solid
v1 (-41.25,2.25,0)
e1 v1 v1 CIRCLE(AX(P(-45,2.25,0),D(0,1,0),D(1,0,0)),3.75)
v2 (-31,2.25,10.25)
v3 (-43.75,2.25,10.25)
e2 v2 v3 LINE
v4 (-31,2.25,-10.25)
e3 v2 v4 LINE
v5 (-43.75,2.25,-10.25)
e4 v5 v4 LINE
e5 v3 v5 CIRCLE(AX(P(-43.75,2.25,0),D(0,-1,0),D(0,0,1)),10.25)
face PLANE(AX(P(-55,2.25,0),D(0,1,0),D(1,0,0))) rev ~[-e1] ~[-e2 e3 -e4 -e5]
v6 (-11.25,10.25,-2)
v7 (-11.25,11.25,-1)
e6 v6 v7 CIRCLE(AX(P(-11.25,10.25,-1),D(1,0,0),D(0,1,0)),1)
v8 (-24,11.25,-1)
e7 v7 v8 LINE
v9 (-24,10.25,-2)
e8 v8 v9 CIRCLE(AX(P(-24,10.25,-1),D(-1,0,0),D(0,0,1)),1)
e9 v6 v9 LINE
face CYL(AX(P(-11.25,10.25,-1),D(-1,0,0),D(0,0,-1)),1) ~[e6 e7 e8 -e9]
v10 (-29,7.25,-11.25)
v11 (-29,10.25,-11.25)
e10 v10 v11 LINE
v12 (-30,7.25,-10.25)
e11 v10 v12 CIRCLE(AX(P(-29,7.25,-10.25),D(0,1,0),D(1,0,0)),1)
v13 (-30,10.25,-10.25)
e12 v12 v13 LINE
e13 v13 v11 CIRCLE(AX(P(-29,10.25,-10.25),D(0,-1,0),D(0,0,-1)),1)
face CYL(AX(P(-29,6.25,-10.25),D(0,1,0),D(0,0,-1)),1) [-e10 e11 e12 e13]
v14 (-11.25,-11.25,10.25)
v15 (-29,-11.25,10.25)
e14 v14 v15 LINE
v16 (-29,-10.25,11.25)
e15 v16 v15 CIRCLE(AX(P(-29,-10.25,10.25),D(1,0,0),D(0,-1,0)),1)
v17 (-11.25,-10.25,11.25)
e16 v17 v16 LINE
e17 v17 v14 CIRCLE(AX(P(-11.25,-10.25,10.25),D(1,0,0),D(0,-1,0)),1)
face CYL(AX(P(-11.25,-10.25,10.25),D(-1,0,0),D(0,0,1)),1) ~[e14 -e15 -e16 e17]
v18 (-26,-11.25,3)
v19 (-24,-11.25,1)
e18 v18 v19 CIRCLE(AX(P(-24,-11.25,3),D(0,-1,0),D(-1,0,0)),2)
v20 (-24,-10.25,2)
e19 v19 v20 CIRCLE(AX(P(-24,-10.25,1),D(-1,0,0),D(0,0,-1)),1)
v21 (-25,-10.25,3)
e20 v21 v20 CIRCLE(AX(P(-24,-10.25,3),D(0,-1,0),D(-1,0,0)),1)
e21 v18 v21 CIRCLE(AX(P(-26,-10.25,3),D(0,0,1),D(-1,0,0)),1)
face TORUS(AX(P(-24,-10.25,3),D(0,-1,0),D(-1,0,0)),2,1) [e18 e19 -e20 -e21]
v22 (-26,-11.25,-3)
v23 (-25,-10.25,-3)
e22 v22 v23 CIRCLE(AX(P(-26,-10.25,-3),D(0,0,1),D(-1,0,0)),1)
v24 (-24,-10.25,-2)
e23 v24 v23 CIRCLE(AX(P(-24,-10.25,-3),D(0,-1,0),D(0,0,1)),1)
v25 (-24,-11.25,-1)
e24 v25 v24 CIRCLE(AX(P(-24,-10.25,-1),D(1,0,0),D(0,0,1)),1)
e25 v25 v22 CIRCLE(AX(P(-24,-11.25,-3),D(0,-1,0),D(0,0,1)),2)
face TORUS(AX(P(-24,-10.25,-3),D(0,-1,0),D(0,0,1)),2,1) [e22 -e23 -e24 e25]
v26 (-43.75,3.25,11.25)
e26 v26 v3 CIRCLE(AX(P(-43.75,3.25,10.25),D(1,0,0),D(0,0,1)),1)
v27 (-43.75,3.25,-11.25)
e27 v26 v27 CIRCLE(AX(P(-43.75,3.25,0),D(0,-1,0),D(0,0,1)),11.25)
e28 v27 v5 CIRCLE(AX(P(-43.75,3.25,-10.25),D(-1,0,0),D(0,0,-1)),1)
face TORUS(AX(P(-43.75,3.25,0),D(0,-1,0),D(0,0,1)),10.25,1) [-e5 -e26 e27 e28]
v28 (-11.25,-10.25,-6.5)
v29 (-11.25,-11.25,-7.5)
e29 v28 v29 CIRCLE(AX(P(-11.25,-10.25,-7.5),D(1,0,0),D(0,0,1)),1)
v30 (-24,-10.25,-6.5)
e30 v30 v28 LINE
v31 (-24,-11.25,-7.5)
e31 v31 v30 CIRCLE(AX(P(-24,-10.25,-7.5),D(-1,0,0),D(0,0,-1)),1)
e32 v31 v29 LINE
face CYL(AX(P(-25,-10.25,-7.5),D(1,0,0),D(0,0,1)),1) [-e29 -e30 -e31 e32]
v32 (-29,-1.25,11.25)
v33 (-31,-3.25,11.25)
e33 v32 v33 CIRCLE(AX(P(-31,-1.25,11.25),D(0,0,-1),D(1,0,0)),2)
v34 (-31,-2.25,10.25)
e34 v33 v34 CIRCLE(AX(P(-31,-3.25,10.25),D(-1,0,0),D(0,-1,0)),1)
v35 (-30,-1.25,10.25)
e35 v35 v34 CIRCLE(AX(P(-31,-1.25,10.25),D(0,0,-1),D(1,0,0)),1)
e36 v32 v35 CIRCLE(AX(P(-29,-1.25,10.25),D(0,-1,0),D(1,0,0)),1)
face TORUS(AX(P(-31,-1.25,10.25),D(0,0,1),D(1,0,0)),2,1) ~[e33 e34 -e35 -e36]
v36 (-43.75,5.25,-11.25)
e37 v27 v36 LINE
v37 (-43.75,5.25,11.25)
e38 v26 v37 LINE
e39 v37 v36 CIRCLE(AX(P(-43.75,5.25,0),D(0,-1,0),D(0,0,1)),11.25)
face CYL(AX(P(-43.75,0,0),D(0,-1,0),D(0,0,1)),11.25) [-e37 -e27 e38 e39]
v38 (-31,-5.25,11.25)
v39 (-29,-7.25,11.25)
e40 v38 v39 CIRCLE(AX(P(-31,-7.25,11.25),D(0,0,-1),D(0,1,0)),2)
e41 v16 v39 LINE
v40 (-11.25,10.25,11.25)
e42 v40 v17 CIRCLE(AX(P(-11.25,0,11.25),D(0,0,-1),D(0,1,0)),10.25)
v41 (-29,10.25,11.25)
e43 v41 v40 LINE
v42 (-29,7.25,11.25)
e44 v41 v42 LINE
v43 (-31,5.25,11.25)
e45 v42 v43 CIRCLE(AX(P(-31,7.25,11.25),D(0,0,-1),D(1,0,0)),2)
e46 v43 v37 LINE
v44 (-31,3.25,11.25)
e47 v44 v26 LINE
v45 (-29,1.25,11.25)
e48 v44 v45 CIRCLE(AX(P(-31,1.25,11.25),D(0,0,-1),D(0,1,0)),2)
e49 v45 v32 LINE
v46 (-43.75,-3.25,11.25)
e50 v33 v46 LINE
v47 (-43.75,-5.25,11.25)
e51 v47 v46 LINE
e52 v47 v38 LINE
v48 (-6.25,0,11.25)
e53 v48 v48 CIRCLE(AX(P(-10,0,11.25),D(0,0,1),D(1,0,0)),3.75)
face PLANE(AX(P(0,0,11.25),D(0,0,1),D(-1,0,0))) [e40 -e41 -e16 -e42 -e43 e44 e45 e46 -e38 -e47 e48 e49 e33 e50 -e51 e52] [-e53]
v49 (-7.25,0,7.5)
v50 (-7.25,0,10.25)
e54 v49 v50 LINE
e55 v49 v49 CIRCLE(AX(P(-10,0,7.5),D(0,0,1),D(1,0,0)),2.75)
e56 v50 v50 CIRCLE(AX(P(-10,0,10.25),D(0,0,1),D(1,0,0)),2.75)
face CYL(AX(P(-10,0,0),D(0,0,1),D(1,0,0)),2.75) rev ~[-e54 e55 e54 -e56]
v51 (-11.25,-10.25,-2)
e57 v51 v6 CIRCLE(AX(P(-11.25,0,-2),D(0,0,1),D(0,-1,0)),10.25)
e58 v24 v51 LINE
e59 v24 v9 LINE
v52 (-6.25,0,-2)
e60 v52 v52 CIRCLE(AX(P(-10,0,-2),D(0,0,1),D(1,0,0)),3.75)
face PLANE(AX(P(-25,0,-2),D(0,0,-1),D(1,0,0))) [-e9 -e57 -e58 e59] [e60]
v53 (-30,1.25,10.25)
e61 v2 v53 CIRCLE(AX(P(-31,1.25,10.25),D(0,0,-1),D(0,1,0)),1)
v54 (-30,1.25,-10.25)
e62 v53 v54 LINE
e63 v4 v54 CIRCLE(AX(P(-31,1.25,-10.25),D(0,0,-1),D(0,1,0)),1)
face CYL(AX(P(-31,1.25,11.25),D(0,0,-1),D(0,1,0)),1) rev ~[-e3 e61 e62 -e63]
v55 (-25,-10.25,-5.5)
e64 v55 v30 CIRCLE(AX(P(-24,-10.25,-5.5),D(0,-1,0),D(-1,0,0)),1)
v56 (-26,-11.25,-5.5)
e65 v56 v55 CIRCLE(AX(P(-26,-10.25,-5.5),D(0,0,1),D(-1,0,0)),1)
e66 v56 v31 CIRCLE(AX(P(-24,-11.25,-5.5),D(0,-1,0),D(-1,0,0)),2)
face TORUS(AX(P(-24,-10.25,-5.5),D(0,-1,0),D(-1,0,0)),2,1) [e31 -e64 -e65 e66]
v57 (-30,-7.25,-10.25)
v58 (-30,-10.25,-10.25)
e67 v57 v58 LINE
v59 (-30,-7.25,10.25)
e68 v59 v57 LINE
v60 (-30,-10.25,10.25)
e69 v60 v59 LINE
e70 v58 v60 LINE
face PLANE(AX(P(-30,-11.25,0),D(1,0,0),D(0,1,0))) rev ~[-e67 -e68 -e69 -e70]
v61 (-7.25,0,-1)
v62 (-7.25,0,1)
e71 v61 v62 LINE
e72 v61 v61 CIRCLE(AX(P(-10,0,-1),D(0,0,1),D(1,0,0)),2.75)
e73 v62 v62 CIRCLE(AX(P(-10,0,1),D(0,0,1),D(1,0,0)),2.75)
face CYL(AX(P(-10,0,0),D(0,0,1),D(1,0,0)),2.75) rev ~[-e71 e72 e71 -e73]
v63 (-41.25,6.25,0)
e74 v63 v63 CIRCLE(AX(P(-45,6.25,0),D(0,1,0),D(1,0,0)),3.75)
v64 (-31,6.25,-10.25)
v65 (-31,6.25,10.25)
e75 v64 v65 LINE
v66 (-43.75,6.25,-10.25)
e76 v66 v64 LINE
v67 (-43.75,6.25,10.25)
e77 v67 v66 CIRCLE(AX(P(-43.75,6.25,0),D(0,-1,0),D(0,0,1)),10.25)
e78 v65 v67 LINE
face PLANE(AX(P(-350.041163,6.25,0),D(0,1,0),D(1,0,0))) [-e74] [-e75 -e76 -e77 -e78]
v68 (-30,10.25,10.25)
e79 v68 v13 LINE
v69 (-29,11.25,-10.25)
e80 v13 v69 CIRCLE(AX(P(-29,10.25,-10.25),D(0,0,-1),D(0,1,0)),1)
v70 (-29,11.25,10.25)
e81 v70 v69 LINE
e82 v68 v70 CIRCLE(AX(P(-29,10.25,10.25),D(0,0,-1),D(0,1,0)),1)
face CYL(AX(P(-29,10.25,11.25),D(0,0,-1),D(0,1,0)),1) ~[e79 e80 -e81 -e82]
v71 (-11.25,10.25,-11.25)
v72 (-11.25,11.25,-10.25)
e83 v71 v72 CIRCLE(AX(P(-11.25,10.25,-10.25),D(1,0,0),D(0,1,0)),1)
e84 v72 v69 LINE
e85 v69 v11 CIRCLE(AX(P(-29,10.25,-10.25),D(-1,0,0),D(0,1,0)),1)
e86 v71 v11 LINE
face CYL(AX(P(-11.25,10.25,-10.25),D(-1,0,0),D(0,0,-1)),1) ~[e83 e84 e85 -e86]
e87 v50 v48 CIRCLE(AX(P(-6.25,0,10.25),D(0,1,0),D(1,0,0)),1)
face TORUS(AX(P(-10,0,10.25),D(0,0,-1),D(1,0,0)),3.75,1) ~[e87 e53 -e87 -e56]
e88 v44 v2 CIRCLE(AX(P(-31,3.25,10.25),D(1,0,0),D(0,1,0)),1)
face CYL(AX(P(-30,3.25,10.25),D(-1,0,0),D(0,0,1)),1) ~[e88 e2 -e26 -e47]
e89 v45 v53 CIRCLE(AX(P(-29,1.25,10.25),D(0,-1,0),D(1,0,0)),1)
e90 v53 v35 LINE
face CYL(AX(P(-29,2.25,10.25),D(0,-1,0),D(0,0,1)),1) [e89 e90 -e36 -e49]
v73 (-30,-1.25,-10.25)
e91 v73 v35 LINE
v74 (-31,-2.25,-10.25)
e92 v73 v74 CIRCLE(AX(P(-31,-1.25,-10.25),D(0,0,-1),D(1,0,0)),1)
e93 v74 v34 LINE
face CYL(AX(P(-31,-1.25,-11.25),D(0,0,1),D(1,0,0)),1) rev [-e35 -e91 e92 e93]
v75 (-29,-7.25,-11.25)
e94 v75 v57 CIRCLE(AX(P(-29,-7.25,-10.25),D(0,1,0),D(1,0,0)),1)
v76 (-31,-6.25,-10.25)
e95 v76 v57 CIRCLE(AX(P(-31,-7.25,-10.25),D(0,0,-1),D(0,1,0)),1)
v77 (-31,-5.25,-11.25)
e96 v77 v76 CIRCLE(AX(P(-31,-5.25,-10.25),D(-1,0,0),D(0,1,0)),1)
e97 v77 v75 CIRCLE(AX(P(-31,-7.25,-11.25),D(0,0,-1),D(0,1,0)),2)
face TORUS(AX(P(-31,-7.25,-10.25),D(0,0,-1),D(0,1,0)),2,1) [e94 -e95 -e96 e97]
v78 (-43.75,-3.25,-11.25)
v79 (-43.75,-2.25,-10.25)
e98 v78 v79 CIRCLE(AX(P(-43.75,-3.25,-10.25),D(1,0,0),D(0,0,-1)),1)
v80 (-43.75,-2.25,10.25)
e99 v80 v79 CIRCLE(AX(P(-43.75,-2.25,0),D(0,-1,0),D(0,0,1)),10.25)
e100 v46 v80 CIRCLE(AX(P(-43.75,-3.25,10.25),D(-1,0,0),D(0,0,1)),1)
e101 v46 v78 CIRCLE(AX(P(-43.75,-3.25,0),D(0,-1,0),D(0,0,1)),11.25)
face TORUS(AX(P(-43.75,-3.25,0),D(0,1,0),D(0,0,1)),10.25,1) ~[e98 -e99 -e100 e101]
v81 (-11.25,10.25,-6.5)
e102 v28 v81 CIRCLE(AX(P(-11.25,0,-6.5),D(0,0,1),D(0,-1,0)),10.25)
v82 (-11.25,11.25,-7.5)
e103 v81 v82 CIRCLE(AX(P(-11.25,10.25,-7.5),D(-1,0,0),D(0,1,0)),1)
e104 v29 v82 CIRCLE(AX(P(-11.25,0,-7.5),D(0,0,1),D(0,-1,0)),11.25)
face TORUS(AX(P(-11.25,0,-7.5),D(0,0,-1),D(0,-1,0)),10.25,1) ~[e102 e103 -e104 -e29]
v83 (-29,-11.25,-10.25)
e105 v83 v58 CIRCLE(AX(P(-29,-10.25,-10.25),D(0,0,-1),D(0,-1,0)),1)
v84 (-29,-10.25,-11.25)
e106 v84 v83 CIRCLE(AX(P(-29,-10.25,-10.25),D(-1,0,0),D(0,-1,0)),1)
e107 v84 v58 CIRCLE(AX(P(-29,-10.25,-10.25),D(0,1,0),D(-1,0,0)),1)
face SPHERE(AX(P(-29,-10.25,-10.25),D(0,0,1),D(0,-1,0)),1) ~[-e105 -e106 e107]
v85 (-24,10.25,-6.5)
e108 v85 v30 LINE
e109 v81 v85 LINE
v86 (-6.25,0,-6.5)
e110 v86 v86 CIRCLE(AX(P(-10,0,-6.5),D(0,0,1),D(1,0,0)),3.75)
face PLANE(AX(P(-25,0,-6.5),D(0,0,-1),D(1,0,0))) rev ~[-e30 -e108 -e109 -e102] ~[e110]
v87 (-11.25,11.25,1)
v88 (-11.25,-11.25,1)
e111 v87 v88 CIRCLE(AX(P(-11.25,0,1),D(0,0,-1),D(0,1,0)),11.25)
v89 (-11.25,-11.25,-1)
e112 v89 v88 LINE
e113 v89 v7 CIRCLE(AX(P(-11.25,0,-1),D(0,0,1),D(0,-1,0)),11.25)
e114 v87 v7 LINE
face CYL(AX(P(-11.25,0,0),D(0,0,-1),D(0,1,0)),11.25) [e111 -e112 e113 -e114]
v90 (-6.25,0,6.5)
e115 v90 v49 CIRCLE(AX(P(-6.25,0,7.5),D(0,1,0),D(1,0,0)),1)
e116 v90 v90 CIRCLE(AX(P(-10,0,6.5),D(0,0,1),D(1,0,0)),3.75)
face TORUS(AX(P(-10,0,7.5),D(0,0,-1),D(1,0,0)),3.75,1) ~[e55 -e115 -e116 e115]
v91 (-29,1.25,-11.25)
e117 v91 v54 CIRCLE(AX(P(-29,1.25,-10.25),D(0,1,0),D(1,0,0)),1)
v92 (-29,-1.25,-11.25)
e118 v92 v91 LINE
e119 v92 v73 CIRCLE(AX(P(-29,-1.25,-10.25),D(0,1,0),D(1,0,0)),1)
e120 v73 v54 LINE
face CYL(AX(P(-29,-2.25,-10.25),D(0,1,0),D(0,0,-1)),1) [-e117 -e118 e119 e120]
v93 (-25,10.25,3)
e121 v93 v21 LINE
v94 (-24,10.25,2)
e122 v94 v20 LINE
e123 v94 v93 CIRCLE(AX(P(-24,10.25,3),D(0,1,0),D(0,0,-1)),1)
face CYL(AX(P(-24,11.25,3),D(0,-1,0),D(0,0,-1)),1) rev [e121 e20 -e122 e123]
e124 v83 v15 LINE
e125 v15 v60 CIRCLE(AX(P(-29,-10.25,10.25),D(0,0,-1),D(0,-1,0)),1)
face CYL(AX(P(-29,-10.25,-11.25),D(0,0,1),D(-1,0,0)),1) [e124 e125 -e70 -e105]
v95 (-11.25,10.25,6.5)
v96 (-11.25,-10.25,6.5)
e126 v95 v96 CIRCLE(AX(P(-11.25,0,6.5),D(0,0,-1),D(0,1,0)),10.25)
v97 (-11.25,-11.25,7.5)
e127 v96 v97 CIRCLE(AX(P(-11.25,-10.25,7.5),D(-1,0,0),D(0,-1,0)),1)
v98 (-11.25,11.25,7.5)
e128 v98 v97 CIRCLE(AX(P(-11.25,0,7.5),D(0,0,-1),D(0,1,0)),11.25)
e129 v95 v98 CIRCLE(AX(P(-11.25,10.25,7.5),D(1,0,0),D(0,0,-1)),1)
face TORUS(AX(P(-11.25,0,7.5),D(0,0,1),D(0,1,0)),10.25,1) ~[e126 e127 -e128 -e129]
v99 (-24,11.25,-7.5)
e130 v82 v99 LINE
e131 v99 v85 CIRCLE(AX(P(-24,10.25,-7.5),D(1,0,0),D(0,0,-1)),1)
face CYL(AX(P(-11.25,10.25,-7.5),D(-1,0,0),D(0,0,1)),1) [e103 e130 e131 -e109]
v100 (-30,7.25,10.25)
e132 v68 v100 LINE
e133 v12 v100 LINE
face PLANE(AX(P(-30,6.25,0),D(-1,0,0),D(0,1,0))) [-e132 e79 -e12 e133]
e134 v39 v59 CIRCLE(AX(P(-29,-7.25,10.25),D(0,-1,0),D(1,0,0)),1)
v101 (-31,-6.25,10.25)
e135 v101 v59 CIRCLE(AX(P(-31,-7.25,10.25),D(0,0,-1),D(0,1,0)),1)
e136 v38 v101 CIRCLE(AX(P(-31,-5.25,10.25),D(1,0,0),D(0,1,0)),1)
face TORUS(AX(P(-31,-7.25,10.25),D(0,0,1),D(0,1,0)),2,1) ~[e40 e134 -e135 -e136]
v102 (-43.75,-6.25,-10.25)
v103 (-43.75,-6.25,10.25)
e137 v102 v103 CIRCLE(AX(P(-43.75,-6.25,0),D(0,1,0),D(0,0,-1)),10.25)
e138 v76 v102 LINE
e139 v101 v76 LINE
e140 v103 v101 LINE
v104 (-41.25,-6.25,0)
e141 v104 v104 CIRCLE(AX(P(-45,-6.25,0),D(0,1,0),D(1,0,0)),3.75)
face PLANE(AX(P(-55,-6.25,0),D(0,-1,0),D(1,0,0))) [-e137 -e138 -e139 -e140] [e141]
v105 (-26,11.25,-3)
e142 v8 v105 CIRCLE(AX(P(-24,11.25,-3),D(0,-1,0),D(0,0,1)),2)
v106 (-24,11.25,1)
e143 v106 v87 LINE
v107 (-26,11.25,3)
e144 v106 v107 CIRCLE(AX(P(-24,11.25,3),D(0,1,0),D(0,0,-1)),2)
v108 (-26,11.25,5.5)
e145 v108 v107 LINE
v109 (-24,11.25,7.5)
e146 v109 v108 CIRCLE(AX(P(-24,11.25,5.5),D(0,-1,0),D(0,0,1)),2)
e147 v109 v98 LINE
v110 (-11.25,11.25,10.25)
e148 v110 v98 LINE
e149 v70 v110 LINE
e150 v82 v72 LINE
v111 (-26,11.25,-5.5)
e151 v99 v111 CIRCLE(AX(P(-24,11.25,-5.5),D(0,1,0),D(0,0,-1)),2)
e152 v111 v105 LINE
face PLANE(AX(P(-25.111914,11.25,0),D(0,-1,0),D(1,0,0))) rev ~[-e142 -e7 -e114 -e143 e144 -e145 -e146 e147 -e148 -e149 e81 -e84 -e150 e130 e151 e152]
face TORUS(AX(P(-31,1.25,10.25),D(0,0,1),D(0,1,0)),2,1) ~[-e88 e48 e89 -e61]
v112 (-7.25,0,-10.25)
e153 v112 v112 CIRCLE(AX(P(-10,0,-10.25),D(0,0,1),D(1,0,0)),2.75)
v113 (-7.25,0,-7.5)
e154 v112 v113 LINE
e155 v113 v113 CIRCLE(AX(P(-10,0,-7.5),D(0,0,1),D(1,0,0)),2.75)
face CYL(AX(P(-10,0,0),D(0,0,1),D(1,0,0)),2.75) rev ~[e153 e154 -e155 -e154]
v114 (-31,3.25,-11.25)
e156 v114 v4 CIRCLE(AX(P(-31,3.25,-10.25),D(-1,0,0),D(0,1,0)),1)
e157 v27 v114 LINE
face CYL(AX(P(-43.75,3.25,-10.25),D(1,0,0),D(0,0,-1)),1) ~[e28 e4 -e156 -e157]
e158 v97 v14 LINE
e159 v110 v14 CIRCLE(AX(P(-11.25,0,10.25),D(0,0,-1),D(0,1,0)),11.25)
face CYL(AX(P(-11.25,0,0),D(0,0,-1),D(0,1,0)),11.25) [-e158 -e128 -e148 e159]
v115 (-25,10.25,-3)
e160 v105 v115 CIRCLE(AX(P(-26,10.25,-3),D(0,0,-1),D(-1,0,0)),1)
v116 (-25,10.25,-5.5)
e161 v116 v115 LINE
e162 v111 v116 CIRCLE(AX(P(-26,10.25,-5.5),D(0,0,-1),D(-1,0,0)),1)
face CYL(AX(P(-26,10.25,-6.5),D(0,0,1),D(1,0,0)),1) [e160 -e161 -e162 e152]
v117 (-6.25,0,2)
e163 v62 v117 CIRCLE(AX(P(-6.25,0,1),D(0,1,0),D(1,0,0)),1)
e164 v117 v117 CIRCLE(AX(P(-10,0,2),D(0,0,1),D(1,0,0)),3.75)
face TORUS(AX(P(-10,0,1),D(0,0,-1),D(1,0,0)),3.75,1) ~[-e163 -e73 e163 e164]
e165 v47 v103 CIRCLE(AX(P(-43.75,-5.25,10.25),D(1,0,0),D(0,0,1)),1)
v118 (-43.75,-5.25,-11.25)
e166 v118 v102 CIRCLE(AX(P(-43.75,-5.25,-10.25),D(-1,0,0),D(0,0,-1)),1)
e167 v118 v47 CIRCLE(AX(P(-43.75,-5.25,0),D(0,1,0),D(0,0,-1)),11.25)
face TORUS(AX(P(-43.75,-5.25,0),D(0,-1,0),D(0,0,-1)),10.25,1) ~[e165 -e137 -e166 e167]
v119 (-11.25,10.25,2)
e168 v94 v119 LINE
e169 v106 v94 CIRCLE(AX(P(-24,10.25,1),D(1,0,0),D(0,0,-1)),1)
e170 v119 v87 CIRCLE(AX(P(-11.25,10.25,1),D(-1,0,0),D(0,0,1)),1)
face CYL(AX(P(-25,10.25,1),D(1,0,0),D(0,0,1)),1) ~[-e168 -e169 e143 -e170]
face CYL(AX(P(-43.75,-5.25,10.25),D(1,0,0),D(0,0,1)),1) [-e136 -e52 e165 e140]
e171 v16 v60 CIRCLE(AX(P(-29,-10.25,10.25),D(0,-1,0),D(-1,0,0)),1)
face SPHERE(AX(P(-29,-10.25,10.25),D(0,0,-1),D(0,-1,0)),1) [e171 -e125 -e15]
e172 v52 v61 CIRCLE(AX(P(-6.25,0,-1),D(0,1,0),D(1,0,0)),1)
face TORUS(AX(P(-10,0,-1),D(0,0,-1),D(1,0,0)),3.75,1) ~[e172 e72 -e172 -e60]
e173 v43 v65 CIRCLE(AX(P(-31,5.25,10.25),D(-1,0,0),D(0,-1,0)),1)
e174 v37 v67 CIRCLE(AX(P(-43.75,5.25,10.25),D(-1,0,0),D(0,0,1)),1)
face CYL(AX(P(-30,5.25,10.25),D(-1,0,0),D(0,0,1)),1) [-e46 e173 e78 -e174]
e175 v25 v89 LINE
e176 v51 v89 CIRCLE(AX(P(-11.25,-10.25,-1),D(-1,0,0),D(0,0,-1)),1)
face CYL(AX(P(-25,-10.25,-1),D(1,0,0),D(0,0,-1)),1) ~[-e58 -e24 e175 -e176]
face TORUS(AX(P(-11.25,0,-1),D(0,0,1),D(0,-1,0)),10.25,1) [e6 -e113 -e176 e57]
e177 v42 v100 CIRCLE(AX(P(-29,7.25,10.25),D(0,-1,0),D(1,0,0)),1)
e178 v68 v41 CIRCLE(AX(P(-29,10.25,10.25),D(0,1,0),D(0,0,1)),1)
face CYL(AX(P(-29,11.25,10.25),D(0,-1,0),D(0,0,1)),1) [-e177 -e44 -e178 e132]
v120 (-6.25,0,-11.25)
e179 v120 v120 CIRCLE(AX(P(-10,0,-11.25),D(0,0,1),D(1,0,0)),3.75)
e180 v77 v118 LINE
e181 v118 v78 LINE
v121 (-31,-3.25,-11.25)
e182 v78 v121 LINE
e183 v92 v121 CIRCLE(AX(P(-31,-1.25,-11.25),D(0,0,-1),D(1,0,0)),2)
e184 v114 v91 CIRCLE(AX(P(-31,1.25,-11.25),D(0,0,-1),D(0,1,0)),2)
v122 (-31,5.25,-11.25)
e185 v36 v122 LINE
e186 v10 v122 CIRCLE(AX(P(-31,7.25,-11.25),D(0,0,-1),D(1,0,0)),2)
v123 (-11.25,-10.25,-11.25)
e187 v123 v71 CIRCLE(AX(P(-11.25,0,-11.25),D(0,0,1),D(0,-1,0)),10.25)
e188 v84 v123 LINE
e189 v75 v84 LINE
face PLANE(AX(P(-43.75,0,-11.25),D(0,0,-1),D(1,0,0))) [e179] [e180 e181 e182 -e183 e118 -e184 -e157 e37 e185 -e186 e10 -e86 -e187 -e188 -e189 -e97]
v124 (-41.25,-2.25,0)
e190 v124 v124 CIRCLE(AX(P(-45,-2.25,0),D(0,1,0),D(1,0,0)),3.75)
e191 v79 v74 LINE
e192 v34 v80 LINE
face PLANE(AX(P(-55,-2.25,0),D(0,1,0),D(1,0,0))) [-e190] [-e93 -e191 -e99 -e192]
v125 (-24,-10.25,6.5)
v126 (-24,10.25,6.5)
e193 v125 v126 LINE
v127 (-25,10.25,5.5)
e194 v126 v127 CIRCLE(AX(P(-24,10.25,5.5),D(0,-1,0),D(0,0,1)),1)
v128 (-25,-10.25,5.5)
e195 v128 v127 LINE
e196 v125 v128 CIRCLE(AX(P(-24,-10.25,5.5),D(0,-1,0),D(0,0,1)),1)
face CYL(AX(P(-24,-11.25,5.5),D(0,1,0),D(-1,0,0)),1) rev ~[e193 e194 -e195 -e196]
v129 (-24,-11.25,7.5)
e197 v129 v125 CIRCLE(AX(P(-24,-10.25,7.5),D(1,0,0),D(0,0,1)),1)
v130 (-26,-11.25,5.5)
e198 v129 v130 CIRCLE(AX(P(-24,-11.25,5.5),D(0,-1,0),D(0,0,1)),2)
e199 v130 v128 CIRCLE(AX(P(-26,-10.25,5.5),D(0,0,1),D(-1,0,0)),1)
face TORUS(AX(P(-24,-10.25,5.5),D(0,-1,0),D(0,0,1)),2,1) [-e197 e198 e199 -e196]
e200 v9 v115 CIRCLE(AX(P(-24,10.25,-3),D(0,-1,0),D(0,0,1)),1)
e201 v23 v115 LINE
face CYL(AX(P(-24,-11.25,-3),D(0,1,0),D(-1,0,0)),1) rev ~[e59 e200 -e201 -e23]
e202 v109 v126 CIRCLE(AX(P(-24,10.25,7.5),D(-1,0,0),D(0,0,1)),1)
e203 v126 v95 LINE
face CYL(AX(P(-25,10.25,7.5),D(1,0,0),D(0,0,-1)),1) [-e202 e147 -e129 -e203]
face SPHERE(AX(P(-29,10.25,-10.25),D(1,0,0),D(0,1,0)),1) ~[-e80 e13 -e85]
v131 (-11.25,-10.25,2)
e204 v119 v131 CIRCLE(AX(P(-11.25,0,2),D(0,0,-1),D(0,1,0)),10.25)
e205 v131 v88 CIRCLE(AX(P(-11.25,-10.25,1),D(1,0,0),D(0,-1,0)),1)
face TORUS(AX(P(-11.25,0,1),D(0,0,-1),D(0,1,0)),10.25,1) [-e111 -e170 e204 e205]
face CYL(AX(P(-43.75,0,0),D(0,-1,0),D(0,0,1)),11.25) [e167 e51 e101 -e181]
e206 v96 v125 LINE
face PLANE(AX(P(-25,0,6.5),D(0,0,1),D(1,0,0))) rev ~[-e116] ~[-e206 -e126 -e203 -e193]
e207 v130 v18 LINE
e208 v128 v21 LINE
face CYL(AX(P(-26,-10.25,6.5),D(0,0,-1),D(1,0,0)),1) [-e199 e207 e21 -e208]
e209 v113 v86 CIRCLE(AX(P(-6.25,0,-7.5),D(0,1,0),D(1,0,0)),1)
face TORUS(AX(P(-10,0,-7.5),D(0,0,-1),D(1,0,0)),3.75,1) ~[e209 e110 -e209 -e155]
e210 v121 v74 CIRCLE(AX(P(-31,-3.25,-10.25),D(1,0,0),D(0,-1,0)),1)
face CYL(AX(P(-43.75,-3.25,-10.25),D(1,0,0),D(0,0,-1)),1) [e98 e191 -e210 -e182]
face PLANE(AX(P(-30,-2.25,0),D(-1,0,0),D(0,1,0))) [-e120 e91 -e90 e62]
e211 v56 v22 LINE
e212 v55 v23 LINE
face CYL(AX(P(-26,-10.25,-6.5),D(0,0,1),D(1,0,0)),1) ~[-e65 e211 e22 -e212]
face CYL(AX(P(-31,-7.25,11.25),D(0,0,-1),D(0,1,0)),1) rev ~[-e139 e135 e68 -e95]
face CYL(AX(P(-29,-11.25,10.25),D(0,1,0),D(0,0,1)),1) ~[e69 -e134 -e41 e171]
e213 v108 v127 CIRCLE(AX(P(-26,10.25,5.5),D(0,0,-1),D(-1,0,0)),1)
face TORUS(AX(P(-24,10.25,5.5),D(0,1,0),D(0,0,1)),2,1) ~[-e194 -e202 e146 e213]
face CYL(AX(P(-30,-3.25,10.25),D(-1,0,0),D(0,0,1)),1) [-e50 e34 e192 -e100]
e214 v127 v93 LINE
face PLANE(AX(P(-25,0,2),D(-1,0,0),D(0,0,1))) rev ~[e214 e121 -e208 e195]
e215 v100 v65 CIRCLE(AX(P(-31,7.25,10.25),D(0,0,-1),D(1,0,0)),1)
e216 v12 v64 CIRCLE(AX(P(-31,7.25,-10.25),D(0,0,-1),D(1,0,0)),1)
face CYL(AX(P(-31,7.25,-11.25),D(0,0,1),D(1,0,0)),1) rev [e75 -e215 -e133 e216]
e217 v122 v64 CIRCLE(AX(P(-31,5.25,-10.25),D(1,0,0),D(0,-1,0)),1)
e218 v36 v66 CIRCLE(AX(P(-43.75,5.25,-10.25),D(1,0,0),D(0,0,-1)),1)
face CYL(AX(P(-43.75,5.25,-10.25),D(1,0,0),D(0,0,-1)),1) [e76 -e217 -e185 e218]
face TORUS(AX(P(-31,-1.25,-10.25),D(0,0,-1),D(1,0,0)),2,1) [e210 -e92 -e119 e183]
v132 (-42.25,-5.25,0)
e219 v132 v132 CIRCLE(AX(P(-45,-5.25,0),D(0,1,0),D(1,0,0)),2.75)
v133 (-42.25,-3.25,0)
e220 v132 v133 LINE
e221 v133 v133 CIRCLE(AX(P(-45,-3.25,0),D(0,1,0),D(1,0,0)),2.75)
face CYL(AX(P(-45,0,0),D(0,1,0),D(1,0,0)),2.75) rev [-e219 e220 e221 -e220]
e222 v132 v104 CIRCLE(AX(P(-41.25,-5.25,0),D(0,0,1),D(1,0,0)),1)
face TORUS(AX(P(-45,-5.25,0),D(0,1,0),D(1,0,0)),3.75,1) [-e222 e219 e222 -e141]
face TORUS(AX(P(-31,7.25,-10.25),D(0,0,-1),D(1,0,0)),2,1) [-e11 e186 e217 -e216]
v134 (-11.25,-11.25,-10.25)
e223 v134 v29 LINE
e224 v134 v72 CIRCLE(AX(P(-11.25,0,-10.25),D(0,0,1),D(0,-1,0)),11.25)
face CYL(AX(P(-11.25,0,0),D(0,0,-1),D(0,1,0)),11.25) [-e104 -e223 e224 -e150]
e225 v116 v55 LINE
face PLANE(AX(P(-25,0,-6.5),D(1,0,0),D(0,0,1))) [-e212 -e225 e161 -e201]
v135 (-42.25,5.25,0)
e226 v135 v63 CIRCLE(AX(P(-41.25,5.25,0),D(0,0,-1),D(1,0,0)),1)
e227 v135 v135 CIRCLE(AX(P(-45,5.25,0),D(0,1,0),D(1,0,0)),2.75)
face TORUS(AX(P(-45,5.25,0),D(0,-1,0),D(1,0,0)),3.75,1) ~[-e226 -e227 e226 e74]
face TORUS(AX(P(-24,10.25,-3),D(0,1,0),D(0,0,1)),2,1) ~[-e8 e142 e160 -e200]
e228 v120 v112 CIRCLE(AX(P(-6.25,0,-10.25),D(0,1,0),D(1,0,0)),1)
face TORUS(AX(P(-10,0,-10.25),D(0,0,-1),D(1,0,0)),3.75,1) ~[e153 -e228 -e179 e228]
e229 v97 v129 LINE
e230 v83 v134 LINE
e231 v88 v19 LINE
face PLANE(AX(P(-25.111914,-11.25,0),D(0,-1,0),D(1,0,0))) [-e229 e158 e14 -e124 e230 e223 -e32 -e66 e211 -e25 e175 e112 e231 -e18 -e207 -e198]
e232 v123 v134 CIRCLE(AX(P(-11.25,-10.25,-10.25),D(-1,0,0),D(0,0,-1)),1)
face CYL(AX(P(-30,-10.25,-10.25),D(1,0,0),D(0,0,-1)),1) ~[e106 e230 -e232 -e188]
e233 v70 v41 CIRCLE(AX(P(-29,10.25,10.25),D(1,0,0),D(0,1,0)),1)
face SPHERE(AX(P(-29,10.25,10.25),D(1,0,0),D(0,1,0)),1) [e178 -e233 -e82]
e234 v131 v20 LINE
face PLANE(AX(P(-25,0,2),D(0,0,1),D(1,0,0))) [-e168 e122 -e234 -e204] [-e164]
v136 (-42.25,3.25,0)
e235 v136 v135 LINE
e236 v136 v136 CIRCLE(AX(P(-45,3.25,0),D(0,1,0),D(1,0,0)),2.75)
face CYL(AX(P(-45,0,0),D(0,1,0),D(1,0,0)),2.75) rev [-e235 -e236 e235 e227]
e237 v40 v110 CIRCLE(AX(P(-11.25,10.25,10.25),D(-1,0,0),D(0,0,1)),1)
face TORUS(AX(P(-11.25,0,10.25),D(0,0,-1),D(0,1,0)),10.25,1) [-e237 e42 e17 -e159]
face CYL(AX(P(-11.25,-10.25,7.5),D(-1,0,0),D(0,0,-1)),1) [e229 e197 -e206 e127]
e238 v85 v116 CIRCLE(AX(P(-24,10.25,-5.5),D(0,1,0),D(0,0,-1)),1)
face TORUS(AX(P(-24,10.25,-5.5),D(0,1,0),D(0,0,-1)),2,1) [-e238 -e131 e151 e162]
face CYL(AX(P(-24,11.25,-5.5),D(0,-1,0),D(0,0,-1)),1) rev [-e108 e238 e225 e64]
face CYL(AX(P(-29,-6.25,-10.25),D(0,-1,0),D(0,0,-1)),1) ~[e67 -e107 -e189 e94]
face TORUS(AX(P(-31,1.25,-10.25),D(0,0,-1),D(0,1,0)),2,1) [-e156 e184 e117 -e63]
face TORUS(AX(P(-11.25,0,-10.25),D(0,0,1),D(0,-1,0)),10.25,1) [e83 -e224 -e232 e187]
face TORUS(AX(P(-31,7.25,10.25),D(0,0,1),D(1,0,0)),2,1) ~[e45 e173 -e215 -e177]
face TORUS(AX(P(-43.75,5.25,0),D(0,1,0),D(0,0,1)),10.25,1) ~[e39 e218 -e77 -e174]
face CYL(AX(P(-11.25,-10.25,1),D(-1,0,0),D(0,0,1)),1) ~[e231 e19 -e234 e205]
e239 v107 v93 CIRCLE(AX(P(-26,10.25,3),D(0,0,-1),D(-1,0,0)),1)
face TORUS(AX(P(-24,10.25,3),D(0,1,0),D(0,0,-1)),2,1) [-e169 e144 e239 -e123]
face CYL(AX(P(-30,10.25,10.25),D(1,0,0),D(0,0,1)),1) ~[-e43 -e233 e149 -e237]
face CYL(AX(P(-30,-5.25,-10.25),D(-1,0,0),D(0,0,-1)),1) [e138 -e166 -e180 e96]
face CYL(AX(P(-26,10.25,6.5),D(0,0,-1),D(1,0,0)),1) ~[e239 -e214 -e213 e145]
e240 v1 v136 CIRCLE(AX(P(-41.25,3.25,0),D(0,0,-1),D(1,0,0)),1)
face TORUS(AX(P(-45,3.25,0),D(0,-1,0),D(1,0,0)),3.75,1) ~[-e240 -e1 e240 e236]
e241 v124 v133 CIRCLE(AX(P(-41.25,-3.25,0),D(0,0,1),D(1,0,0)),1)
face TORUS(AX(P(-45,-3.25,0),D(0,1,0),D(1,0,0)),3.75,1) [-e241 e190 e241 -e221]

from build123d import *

# Parameters (mm, degrees)
F1_R     = 2.75
F2_DEPTH = 11.25
F3_W     = 25
F3_H     = 4.5
F3_W_2   = 320.0411629677
F3_H_2   = 5
F4_DEPTH = 25
F5_W     = 25
F5_H     = 4.5
F6_DEPTH = 25
F7_R     = 2.75
F8_DEPTH = 25
F9_R     = 1


with BuildPart() as f2:
    # F1 (on Front) → F2 (new body, symmetric)
    with BuildSketch(Plane.XZ):
        with BuildLine():
            Line((-43.75, -11.25), (0, -11.25))
            Line((0, -11.25), (0, 11.25))
            Line((0, 11.25), (-43.75, 11.25))
            ThreePointArc((-43.75, 11.25), (-55, 0), (-43.75, -11.25))
        make_face()
        with Locations((-45, 0)):
            Circle(F1_R, mode=Mode.SUBTRACT)
    extrude(amount=F2_DEPTH, both=True)

    # F3 (on Top) → F4 (cut, symmetric)
    with BuildSketch(Plane.XY):
        with Locations((-42.5, 0)):
            Rectangle(F3_W, F3_H)
        with Locations((-190.0205814838, 8.75)):
            Rectangle(F3_W_2, F3_H_2)
        with Locations((-42.5, -8.75)):
            Rectangle(F3_W, F3_H_2)
    extrude(amount=F4_DEPTH, both=True, mode=Mode.SUBTRACT)

    # F5 (on Front) → F6 (cut, symmetric)
    with BuildSketch(Plane.XZ):
        with Locations((-12.5, 4.25)):
            Rectangle(F5_W, F5_H)
        with Locations((-12.5, -4.25)):
            Rectangle(F5_W, F5_H)
    extrude(amount=F6_DEPTH, both=True, mode=Mode.SUBTRACT)

    # F7 (on Top) → F8 (cut, symmetric)
    with BuildSketch(Plane.XY):
        with BuildLine():
            ThreePointArc((-11.25, 11.25), (0, 0), (-11.25, -11.25))
            Line((-11.25, -11.25), (10, -11.25))
            Line((10, -11.25), (10, 11.25))
            Line((10, 11.25), (-11.25, 11.25))
        make_face()
        with Locations((-10, 0)):
            Circle(F7_R)
    extrude(amount=F8_DEPTH, both=True, mode=Mode.SUBTRACT)

    # F9
    f9_edges = [f2.edges().sort_by_distance(p)[0] for p in [
        (-30, -11.25, 0),
        (-20.625, -11.25, 11.25),
        (-11.25, -11.25, 8.875),
        (-18.125, -11.25, 6.5),
        (-25, -11.25, 4.25),
        (-18.125, -11.25, 2),
        (-11.25, -11.25, 0),
        (-18.125, -11.25, -2),
        (-25, -11.25, -4.25),
        (-18.125, -11.25, -6.5),
        (-11.25, -11.25, -8.875),
        (-20.625, -11.25, -11.25),
        (-36.875, -2.25, 11.25),
        (-55, -2.25, 0),
        (-36.875, -2.25, -11.25),
        (-30, -2.25, 0),
        (-47.75, -2.25, 0),
        (-30, 2.25, 0),
        (-36.875, 2.25, -11.25),
        (-55, 2.25, 0),
        (-36.875, 2.25, 11.25),
        (-47.75, 2.25, 0),
        (-11.25, 11.25, 8.875),
        (-18.125, 11.25, 6.5),
        (-25, 11.25, 4.25),
        (-18.125, 11.25, 2),
        (-11.25, 11.25, 0),
        (-18.125, 11.25, -2),
        (-25, 11.25, -4.25),
        (-18.125, 11.25, -6.5),
        (-11.25, 11.25, -8.875),
        (-20.625, 11.25, -11.25),
        (-30, 11.25, 0),
        (-20.625, 11.25, 11.25),
        (-30, -6.25, 0),
        (-36.875, -6.25, -11.25),
        (-55, -6.25, 0),
        (-36.875, -6.25, 11.25),
        (-47.75, -6.25, 0),
        (-36.875, 6.25, -11.25),
        (-55, 6.25, 0),
        (-36.875, 6.25, 11.25),
        (-30, 6.25, 0),
        (-47.75, 6.25, 0),
        (0, 0, -2),
        (0, 0, 2),
        (-25, 0, 6.5),
        (-25, 0, 2),
        (-25, 0, -2),
        (-25, 0, -6.5),
        (-30, 8.75, -11.25),
        (0, 0, -11.25),
        (-30, -8.75, -11.25),
        (-43.75, -4.25, -11.25),
        (-30, 0, -11.25),
        (-43.75, 4.25, -11.25),
        (-12.75, 0, -11.25),
        (0, 0, -6.5),
        (-12.75, 0, -6.5),
        (-12.75, 0, 2),
        (0, 0, 11.25),
        (-30, 8.75, 11.25),
        (-43.75, 4.25, 11.25),
        (-30, 0, 11.25),
        (-43.75, -4.25, 11.25),
        (-30, -8.75, 11.25),
        (-12.75, 0, 11.25),
        (0, 0, 6.5),
        (-12.75, 0, 6.5),
        (-12.75, 0, -2),
    ]]
    fillet(f9_edges, radius=F9_R)


solid = f2.part
